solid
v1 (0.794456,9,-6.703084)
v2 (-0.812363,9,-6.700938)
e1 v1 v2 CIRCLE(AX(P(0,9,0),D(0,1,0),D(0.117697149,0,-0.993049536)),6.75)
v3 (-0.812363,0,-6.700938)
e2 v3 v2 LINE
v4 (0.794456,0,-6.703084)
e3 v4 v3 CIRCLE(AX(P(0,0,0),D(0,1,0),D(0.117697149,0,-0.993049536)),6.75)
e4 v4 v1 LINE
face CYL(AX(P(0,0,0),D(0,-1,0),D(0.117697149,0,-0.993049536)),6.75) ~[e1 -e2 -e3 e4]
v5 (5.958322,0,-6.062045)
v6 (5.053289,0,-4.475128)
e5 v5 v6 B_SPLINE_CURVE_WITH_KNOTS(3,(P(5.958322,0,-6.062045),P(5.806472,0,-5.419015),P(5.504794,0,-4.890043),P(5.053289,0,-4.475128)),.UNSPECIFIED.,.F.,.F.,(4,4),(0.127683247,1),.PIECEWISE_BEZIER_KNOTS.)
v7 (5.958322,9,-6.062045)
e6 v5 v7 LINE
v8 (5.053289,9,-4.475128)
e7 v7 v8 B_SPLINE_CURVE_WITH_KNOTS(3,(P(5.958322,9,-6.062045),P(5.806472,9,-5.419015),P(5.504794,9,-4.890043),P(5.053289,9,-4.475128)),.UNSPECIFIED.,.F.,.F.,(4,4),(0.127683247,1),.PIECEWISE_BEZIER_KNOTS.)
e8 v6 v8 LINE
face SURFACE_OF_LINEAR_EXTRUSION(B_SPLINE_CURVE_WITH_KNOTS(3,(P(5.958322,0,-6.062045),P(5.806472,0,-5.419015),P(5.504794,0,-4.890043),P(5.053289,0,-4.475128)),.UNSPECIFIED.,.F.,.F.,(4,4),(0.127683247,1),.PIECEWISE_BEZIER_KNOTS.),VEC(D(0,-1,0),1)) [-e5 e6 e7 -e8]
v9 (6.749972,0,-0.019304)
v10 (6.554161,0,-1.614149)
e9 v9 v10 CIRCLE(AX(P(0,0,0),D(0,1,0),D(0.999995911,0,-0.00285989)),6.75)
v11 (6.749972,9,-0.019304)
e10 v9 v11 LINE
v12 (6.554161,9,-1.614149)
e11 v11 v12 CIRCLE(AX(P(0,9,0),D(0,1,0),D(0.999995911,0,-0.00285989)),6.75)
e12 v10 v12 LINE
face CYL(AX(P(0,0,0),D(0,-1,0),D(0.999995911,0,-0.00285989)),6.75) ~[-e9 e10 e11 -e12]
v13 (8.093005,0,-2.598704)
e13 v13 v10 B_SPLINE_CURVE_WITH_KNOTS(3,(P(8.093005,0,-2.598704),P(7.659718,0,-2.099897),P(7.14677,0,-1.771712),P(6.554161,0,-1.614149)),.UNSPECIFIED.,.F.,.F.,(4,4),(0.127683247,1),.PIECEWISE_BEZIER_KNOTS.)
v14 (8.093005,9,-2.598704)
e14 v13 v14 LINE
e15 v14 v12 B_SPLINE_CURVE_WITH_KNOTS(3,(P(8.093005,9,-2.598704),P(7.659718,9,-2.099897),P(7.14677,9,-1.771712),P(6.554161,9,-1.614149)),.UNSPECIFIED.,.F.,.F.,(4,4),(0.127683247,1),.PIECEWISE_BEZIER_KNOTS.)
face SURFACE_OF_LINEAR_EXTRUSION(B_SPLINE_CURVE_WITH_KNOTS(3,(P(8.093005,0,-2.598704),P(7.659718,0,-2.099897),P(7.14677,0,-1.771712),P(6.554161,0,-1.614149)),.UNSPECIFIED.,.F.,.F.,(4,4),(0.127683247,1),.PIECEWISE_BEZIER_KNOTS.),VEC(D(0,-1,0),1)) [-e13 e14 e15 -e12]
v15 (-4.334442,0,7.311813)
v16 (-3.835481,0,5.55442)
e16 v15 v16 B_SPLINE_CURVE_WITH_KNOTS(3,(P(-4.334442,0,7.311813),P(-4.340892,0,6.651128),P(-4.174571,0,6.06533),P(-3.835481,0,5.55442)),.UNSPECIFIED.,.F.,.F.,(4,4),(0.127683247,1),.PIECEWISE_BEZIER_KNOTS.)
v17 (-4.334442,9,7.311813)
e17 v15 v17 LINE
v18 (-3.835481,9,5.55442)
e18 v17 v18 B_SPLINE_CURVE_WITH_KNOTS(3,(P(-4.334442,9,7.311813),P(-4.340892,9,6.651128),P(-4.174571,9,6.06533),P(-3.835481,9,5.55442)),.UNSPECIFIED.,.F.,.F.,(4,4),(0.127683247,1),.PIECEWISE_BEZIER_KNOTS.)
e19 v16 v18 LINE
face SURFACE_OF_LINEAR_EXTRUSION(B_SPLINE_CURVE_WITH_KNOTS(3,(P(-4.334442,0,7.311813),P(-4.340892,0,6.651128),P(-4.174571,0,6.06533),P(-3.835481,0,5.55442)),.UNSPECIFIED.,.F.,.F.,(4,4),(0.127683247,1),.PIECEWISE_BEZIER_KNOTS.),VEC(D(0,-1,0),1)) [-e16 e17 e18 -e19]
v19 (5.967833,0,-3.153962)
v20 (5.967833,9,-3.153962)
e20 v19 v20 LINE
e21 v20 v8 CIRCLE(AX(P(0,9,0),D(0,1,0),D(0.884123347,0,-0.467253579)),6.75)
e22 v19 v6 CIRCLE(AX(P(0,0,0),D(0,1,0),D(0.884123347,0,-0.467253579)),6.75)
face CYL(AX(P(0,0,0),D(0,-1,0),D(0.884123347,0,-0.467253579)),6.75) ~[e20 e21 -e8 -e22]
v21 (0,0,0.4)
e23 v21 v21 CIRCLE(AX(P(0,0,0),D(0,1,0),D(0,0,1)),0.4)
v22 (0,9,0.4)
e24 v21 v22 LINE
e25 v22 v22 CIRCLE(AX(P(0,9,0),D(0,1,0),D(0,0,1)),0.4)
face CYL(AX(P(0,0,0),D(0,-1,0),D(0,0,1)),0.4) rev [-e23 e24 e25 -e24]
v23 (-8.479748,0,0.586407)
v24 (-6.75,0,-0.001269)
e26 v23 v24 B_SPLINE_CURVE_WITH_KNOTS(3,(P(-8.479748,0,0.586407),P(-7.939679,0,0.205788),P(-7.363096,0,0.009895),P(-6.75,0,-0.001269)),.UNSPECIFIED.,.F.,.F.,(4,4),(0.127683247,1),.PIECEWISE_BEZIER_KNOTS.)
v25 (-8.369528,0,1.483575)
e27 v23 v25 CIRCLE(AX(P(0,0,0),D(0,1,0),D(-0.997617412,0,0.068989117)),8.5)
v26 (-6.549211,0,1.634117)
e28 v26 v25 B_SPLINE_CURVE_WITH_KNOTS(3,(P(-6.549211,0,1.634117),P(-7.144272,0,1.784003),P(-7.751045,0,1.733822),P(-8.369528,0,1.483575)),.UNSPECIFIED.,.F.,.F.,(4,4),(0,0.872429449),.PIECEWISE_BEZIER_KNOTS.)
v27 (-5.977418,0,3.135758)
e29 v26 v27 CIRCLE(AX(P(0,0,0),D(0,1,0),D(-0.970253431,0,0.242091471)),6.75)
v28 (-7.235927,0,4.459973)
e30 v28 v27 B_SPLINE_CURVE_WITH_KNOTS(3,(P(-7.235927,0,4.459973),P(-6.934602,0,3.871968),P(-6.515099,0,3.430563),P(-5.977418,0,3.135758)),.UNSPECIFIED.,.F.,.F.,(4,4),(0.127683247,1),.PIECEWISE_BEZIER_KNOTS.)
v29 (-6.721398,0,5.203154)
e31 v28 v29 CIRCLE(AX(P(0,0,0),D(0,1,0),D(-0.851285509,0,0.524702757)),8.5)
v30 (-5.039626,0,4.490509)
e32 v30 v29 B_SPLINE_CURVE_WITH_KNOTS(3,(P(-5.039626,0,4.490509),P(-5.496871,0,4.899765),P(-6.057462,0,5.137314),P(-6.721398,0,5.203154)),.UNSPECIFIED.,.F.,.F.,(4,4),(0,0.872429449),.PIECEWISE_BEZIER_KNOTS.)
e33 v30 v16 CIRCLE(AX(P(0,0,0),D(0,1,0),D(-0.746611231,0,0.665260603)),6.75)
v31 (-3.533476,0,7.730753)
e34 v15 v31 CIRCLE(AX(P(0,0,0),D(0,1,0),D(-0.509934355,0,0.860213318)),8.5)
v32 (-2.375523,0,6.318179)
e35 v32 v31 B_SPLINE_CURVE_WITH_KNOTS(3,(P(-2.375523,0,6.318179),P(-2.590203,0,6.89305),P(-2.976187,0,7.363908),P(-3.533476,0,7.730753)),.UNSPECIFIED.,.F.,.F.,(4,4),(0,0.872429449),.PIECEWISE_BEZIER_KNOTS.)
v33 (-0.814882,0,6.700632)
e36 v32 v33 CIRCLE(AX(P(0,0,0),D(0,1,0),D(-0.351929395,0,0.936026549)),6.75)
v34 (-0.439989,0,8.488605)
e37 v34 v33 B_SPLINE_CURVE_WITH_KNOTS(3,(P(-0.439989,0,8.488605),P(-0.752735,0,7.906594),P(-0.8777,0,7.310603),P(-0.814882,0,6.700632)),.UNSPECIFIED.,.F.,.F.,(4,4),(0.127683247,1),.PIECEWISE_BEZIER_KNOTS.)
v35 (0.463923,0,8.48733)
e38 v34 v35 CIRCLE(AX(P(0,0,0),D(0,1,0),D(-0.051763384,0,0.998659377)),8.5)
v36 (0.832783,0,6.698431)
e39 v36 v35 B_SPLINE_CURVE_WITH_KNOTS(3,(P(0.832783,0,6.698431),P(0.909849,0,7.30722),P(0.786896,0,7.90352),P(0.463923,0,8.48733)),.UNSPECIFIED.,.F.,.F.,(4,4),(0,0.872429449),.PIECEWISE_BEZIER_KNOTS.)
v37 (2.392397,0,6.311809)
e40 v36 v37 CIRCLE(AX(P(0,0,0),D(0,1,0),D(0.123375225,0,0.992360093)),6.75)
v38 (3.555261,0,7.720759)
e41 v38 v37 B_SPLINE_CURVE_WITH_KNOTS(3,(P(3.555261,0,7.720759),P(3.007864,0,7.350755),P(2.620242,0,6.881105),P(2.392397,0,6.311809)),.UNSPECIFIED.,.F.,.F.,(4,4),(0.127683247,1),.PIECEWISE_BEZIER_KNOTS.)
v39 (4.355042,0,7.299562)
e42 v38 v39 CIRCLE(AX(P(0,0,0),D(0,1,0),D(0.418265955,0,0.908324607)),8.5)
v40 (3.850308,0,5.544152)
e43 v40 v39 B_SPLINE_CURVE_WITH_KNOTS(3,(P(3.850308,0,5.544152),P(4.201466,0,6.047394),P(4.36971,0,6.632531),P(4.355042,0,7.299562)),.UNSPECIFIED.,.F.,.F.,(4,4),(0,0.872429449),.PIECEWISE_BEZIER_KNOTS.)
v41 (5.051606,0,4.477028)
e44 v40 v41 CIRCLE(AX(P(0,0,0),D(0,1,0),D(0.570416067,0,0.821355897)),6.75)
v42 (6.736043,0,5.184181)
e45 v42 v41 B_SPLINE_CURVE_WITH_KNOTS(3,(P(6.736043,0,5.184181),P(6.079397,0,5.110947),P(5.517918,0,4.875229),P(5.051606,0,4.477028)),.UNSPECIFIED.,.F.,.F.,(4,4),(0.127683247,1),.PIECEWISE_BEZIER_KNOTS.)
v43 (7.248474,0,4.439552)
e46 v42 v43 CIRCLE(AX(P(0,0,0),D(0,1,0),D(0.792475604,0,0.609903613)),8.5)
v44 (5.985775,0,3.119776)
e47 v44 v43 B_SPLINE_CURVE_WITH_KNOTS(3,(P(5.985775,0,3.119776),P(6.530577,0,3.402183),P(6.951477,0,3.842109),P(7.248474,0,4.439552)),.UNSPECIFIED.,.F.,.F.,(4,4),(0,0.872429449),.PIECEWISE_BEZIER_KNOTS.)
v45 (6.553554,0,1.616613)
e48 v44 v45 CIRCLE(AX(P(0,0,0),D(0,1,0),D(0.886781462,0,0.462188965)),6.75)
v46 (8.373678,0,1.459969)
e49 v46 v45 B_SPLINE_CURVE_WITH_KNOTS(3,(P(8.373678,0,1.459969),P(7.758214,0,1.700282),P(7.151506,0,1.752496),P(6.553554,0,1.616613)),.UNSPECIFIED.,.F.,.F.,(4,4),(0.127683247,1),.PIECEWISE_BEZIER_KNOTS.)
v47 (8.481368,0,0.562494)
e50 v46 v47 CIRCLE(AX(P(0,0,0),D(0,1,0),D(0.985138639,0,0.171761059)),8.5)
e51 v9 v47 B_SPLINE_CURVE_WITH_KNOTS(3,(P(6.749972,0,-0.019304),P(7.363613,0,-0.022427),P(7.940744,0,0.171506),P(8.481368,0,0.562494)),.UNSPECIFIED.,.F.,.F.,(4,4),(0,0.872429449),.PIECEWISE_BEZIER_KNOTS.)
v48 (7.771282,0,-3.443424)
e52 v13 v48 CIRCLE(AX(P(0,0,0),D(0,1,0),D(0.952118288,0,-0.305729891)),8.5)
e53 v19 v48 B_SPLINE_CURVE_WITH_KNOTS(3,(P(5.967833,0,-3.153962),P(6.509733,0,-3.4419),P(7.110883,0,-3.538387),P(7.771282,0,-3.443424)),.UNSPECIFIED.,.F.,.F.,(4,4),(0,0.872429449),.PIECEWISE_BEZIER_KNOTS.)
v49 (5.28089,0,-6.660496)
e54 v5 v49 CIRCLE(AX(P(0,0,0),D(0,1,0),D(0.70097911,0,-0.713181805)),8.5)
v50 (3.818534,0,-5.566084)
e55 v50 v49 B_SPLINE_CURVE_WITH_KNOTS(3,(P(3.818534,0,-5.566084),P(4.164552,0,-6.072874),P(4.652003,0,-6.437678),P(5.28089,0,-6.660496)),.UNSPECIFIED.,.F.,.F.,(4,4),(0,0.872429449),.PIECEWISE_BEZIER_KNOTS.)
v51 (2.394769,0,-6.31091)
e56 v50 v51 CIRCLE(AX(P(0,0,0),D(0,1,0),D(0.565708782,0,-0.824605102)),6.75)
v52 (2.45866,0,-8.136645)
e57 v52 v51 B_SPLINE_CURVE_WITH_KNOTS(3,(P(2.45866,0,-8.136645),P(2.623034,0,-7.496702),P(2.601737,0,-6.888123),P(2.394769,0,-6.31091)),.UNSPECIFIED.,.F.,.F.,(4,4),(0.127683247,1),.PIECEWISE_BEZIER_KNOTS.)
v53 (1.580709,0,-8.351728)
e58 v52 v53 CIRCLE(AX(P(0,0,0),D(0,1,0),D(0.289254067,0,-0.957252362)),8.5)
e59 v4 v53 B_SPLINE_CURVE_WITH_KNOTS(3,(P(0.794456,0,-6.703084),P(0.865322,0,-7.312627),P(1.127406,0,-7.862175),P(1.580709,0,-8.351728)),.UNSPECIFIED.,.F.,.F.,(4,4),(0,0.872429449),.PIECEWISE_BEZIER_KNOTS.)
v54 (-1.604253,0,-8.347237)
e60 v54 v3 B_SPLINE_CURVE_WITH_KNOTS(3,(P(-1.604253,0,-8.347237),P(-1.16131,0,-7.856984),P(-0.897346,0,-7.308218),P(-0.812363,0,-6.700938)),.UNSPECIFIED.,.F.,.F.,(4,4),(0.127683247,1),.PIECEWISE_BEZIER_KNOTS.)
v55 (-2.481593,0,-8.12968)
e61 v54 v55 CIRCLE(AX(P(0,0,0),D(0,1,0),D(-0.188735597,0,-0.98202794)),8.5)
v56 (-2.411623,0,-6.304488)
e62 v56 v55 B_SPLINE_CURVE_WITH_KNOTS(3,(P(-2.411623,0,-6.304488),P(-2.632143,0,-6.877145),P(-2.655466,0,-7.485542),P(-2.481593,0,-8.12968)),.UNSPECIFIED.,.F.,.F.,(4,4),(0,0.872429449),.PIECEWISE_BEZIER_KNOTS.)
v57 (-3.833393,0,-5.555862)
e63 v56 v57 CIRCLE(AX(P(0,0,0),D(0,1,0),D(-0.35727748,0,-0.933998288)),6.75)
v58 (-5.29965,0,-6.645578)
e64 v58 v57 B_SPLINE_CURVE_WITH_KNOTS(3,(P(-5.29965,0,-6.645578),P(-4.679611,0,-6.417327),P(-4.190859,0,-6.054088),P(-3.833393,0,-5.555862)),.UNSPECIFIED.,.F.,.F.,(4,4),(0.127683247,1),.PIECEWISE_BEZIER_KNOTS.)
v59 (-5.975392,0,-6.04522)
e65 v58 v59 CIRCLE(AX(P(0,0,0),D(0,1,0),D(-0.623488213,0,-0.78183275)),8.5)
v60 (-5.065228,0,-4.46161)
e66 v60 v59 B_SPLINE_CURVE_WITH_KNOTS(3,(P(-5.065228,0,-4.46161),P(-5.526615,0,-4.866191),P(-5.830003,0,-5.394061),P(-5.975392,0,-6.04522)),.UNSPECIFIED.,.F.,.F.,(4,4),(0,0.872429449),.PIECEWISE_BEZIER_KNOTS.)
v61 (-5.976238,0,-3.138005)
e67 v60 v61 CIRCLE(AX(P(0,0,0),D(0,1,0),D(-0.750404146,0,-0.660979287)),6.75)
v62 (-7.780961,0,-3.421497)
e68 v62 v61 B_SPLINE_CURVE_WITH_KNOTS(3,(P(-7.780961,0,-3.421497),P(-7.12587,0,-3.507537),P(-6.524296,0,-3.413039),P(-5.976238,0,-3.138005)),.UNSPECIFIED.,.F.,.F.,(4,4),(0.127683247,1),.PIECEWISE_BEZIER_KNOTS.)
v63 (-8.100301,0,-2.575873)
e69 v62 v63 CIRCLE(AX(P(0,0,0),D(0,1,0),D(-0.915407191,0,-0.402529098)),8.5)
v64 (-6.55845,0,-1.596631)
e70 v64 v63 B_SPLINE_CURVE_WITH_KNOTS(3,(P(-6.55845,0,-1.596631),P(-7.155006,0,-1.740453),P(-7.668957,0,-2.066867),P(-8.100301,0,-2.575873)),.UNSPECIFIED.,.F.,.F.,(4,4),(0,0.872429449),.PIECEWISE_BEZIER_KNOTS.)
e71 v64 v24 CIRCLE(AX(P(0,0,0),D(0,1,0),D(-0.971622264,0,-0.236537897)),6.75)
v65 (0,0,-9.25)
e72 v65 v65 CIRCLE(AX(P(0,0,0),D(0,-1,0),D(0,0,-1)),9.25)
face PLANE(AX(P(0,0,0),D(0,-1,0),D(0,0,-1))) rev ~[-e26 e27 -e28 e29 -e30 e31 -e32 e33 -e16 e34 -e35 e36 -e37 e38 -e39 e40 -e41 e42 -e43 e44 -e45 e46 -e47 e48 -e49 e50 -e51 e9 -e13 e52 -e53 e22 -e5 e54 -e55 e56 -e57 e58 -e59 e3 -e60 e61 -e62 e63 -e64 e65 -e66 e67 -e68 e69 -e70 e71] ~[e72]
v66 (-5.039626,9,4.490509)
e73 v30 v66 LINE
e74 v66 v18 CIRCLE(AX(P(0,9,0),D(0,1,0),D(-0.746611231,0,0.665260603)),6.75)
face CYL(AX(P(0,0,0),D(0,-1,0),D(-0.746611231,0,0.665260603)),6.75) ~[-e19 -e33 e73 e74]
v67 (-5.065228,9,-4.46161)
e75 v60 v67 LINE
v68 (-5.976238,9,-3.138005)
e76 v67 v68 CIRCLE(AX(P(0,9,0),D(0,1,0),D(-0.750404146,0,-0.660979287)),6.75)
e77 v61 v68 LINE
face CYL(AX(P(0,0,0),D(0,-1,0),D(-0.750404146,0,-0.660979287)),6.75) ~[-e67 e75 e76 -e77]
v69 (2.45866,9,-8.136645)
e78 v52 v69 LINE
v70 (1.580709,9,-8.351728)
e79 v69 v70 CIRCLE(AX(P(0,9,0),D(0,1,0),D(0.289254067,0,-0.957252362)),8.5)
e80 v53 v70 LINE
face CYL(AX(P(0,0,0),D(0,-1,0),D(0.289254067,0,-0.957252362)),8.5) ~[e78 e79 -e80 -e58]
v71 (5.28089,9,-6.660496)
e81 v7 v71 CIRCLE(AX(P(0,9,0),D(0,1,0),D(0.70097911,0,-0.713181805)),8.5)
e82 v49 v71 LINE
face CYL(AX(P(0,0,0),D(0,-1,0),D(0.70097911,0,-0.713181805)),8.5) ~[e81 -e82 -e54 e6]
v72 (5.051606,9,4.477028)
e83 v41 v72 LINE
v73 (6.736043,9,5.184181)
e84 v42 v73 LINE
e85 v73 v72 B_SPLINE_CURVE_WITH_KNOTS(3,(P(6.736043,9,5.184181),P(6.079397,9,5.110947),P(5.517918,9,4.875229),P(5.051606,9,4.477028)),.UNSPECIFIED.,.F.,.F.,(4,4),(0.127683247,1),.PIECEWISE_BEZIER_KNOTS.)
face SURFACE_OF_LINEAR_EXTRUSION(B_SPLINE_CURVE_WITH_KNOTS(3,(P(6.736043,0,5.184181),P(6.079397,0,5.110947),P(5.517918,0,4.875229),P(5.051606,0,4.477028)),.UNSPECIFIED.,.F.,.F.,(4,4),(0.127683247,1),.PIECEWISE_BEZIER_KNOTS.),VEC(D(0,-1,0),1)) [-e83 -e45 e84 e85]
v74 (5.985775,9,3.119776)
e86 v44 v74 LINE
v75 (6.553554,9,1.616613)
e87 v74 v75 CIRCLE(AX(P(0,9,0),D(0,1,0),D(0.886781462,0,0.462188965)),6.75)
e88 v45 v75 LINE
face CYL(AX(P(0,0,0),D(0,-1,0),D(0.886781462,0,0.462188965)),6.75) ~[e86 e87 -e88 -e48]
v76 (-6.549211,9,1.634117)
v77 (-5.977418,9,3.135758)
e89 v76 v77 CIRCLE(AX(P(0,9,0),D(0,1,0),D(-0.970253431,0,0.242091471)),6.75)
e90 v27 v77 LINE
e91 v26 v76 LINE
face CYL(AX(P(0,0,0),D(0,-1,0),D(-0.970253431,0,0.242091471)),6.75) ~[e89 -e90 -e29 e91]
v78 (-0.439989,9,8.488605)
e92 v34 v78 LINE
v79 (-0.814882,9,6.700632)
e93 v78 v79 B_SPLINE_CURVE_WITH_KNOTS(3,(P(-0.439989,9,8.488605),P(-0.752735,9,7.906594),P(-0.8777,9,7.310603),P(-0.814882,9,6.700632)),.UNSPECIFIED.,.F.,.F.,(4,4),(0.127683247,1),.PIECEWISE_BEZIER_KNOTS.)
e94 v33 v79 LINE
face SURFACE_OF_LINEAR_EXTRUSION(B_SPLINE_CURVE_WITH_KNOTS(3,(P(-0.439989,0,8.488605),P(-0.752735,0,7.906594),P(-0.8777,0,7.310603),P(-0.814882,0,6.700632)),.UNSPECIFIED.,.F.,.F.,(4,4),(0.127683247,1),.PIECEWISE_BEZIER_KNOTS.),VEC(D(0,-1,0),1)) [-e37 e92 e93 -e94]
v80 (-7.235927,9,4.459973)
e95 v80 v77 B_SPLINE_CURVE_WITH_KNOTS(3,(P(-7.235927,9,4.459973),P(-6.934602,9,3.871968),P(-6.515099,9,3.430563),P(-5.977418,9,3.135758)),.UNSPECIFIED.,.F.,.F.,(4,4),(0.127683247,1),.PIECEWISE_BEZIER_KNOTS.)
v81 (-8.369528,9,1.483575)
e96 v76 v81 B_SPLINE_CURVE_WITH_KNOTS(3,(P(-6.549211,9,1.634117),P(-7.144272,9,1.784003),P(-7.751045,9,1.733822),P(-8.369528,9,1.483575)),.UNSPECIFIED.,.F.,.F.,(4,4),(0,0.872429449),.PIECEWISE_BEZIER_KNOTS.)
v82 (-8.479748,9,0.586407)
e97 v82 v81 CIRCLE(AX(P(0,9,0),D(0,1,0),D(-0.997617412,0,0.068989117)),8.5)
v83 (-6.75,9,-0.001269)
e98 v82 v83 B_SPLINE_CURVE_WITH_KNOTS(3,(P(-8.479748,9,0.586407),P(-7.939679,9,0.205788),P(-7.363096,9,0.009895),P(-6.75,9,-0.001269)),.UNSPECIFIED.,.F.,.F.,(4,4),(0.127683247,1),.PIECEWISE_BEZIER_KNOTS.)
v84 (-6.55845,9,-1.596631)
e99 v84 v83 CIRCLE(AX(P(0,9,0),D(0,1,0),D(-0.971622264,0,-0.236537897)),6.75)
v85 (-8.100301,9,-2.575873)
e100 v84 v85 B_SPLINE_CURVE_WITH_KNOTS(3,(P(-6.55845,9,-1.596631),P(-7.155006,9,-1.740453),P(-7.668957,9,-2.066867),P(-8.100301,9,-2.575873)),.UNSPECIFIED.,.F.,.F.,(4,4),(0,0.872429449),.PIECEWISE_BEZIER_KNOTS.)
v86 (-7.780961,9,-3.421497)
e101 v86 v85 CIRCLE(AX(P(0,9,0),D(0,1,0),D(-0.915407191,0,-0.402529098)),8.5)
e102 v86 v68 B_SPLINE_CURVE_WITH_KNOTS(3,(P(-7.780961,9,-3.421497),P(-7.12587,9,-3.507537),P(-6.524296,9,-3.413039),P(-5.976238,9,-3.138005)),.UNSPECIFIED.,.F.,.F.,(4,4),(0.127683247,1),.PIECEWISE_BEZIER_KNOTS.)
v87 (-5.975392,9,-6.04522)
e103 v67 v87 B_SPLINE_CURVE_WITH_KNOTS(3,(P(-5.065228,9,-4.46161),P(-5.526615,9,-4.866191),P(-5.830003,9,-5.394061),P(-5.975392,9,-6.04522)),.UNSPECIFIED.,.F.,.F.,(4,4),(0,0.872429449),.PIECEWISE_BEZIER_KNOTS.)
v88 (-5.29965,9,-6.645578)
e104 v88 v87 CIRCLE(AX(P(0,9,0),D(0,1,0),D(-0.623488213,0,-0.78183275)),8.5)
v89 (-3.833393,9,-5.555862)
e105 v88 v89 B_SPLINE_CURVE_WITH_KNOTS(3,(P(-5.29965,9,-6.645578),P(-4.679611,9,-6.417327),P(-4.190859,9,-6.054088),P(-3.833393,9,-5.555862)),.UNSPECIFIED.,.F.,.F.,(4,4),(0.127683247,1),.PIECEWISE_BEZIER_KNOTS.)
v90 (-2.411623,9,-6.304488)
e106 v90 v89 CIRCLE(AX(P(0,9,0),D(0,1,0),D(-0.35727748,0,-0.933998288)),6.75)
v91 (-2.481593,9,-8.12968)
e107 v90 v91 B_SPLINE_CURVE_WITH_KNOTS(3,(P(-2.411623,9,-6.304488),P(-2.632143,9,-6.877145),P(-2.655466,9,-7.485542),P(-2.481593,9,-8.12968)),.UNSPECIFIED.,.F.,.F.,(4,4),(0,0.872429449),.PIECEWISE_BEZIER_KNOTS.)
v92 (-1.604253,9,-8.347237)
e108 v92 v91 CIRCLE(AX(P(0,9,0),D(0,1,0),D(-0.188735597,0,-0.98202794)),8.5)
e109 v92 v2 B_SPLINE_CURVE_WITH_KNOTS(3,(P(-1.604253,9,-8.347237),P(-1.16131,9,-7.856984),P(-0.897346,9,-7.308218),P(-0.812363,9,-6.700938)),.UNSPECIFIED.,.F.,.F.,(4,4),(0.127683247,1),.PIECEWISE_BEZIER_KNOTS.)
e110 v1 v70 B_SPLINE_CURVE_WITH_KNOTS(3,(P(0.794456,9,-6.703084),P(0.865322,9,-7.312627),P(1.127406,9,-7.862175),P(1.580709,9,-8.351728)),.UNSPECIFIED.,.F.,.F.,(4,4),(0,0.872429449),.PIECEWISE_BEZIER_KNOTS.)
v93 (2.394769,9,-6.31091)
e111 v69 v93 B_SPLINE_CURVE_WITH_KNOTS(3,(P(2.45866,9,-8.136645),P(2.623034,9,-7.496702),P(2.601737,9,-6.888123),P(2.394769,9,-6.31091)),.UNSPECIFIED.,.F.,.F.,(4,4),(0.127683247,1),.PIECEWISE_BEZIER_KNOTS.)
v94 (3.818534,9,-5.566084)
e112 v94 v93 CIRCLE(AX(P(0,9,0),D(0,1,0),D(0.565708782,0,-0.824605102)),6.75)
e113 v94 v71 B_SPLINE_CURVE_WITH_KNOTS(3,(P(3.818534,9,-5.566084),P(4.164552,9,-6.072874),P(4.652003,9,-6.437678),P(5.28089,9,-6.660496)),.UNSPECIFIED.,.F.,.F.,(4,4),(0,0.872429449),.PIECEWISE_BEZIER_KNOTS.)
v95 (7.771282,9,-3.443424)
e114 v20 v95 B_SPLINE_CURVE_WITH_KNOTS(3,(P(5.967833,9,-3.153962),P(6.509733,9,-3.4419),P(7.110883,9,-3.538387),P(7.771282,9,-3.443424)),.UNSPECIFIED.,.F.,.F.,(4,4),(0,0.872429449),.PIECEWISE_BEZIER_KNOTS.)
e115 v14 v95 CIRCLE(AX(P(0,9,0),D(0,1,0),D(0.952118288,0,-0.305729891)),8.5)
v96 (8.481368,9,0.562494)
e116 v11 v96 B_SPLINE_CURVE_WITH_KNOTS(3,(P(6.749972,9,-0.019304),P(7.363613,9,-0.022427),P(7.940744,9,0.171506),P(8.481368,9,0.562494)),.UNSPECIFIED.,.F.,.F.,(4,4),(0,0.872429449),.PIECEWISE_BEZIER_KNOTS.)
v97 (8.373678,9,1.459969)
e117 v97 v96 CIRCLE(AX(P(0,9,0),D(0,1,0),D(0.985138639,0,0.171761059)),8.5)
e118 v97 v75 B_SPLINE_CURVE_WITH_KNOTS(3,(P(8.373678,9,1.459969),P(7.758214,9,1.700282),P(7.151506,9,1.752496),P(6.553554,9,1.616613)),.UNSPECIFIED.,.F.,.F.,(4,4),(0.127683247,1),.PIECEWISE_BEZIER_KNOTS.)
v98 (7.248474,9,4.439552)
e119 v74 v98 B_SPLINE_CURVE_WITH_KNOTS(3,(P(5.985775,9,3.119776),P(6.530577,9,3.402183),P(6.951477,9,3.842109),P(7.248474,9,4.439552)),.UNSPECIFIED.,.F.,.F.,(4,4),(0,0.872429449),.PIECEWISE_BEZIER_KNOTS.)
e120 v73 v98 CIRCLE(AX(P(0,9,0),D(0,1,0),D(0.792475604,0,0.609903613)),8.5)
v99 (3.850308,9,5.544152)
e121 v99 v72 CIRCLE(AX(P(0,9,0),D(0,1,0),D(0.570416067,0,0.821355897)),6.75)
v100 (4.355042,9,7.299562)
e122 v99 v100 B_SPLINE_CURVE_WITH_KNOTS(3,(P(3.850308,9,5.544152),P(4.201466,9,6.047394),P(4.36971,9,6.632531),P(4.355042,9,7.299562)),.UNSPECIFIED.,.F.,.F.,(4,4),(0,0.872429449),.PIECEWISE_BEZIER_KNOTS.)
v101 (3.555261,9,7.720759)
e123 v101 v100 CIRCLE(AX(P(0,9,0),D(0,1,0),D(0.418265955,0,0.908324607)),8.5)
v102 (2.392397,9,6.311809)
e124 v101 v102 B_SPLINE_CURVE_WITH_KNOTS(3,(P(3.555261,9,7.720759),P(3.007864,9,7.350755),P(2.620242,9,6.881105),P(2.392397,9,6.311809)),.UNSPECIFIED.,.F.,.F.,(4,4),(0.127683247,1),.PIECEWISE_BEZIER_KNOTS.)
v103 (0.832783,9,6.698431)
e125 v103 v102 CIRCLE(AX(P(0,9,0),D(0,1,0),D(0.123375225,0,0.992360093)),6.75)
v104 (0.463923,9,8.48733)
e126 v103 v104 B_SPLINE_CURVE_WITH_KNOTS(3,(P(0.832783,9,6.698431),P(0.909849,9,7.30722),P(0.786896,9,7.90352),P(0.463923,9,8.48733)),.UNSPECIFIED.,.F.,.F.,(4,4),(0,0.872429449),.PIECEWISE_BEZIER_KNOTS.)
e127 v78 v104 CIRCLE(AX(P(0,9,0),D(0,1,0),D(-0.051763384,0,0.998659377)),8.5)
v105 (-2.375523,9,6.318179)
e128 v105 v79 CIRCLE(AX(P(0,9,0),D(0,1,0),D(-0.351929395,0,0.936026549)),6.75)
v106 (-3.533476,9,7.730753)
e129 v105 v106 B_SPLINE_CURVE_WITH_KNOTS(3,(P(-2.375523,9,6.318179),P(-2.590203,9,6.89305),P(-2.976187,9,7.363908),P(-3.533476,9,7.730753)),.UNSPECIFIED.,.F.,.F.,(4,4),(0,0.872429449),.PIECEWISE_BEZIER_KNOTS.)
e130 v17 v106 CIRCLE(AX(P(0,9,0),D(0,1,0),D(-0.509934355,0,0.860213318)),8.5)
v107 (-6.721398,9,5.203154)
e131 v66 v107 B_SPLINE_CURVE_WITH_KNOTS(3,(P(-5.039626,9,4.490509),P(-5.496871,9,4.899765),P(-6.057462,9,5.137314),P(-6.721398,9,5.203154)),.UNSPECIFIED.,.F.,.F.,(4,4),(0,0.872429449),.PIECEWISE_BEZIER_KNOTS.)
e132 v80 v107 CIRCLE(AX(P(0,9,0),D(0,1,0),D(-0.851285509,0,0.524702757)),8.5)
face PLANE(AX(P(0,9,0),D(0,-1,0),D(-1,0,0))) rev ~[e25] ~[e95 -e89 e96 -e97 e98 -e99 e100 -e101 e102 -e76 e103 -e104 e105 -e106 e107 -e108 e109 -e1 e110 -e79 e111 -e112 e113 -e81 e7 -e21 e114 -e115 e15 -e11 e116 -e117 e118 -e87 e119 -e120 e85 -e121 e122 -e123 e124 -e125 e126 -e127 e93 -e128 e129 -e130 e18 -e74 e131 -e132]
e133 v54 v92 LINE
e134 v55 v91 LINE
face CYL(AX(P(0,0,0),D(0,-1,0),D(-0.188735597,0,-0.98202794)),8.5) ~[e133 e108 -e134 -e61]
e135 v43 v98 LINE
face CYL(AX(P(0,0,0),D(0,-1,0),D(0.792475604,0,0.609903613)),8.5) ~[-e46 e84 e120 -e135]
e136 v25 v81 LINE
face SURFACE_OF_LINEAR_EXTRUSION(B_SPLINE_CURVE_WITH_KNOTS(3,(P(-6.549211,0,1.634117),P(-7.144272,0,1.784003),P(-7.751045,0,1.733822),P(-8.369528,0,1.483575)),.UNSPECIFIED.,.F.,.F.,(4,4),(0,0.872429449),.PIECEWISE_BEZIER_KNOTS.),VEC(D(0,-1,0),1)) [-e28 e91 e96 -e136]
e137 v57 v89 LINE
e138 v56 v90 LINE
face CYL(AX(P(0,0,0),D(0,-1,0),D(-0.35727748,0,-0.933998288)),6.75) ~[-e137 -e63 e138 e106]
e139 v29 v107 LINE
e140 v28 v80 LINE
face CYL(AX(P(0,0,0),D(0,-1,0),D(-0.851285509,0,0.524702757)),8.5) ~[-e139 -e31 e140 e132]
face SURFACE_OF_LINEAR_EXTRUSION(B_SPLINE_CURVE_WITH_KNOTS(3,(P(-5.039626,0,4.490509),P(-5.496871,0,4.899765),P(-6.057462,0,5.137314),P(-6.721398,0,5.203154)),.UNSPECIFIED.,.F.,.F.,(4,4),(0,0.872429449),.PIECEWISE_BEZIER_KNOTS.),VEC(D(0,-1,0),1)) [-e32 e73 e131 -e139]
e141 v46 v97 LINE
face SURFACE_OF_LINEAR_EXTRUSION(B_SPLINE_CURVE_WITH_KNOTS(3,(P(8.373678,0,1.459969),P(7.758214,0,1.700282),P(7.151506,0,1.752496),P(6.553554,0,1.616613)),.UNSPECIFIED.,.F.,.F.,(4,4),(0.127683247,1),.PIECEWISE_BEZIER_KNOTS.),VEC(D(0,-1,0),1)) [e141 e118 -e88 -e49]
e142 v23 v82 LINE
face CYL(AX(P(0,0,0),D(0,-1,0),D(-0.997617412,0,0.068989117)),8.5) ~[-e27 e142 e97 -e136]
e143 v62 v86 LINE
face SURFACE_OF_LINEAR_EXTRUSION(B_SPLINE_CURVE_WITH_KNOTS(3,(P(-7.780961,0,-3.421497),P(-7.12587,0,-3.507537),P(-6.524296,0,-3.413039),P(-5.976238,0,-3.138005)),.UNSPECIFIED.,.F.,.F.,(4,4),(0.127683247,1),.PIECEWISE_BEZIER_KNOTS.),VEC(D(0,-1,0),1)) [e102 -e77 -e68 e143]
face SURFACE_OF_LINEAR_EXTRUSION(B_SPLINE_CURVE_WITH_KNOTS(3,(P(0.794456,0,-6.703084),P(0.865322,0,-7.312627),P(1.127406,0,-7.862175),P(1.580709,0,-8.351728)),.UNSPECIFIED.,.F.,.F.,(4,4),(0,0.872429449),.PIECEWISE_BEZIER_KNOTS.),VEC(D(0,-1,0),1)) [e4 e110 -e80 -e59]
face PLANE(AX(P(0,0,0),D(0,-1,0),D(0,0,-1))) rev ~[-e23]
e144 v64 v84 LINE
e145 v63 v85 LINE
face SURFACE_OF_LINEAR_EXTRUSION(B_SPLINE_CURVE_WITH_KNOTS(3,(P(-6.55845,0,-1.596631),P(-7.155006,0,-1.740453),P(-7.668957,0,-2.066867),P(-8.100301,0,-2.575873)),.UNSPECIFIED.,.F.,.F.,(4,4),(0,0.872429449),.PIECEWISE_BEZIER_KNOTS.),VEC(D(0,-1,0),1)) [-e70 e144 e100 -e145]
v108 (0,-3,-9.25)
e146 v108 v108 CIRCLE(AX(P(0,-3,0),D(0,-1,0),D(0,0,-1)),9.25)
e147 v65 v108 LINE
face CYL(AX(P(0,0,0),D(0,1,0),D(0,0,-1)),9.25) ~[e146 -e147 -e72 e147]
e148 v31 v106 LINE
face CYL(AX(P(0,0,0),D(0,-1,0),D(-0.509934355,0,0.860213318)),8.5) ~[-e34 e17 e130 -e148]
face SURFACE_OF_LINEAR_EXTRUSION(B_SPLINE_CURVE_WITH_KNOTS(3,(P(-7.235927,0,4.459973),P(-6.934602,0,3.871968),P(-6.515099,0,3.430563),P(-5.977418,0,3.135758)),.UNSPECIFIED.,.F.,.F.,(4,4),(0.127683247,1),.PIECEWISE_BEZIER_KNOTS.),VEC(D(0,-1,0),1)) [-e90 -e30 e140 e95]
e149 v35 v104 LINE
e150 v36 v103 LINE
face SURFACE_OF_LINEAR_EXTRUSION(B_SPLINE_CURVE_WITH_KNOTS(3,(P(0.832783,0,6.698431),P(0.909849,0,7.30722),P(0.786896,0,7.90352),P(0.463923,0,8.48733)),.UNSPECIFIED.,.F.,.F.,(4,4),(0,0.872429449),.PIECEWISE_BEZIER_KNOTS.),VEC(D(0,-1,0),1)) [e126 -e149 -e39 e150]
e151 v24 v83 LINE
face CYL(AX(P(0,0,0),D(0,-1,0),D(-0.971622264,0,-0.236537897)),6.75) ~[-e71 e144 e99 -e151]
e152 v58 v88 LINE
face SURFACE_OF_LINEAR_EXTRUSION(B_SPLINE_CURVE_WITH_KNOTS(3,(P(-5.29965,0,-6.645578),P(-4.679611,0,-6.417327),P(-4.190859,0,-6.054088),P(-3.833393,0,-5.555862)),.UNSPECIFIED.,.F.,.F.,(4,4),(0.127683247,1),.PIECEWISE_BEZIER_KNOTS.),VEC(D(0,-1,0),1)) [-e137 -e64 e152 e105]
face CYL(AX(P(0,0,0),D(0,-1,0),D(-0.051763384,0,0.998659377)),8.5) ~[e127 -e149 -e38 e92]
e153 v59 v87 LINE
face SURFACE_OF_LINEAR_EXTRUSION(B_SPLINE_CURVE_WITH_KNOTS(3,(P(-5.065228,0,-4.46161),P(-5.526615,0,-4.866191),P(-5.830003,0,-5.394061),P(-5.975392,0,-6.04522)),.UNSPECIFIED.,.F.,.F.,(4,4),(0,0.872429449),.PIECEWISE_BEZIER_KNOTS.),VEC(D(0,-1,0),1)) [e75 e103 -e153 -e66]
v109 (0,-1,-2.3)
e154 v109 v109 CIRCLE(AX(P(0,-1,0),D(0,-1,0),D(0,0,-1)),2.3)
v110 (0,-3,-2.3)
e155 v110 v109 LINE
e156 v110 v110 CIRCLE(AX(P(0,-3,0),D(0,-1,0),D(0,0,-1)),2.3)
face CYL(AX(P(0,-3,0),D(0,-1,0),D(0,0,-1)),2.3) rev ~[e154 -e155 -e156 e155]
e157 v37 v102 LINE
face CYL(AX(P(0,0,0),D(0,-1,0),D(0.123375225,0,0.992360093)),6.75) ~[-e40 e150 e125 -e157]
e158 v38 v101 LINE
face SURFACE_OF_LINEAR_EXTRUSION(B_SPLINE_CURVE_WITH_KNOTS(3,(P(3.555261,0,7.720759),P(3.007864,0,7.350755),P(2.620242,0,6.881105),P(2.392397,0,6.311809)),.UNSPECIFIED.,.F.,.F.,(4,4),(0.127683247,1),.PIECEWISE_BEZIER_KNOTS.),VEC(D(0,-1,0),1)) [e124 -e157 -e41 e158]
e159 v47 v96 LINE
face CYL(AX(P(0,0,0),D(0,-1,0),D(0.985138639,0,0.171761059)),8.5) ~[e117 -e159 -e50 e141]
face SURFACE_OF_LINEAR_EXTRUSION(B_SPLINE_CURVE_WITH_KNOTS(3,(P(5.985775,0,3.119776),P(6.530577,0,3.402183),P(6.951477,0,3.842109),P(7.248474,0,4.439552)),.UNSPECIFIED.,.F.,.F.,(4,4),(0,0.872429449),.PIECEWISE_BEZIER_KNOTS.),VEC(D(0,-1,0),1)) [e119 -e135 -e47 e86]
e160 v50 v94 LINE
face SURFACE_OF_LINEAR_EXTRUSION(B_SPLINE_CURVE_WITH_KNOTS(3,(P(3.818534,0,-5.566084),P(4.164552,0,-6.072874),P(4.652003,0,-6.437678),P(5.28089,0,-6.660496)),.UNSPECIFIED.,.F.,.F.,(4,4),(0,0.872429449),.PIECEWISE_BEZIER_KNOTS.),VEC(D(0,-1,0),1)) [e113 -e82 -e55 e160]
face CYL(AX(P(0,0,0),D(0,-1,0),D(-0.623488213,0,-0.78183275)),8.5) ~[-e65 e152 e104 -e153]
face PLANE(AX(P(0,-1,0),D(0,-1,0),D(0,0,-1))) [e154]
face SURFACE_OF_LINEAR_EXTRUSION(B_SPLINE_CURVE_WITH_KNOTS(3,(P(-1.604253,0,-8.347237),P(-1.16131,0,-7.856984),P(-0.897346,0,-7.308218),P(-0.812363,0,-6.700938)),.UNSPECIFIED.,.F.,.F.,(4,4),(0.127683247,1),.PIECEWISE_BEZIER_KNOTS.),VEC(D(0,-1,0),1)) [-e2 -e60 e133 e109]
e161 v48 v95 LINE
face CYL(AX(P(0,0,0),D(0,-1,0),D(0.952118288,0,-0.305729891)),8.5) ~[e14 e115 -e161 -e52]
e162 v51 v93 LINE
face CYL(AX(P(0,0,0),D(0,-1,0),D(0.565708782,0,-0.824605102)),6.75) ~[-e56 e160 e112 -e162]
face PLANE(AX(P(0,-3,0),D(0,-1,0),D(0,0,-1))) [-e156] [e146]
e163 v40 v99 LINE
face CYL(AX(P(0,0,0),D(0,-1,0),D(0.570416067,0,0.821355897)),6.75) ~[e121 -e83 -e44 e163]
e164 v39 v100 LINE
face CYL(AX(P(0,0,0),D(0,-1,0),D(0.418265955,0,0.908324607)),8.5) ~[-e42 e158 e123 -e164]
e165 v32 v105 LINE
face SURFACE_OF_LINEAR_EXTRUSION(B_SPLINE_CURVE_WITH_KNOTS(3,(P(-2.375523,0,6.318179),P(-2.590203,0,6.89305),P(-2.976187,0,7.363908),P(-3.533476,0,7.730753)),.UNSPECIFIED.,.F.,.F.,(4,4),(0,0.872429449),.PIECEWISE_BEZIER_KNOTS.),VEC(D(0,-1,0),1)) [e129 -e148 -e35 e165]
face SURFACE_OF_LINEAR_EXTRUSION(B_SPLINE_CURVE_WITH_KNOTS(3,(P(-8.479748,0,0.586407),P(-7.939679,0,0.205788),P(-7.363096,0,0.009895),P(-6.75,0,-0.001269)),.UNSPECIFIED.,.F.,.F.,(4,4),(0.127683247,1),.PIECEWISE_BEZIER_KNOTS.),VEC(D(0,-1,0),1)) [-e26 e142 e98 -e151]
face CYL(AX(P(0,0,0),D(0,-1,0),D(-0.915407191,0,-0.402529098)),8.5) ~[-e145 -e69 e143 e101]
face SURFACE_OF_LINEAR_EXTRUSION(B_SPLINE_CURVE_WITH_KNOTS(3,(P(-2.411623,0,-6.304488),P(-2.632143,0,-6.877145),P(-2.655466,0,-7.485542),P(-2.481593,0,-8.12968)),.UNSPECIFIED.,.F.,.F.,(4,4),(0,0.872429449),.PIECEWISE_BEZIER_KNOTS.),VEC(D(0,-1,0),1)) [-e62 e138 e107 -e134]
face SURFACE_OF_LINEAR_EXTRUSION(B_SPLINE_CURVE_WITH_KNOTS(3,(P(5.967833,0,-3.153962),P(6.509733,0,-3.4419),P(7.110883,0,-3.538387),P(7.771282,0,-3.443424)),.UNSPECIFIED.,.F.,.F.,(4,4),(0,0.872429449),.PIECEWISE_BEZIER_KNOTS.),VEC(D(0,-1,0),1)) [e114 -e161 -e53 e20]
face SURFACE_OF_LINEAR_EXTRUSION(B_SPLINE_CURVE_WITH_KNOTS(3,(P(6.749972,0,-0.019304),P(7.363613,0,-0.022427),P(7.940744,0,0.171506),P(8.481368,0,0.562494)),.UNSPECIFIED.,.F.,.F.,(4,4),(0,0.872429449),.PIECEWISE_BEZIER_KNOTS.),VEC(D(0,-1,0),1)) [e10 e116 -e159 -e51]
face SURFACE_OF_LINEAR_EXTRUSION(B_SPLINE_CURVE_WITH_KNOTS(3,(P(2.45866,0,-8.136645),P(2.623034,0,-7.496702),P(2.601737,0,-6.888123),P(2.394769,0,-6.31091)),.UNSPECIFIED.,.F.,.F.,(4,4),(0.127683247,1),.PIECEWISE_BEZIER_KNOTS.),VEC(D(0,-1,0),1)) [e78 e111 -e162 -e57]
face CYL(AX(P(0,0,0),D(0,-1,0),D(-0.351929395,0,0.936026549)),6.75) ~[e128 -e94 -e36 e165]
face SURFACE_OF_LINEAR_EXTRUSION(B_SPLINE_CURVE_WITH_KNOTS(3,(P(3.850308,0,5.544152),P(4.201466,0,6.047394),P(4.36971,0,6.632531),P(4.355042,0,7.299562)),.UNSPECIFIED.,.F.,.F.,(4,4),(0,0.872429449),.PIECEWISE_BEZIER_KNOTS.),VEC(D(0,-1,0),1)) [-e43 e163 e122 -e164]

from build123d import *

# Parameters (mm, degrees)
SKETCH1_R             = 0.4
BOSS_EXTRUDE1_DEPTH   = 9
SKETCH2_R             = 9.25
BOSS_EXTRUDE2_DEPTH   = 3
CROQUIS1_R            = 2.3
CORTAR_EXTRUIR1_DEPTH = 2


with BuildPart() as part:
    # Sketch1 → Boss-Extrude1 (new body)
    with BuildSketch(Plane(origin=(0, 0, 0), x_dir=(1, 0, 0), z_dir=(0, 1, 0))):
        with BuildLine():
            add(Edge.make_bspline(
                [(-5.065227978, 4.461610195), (-5.526615005, 4.86619147), (-5.830003112, 5.39406146), (-5.975392301, 6.045220165)],
                knots=[0, 0, 0, 0, 0.872429449, 0.872429449, 0.872429449, 0.872429449], degree=3))
            ThreePointArc((-5.065227978, 4.461610195), (-5.560258819, 3.827012132), (-5.976238464, 3.138004752))
            add(Edge.make_bspline(
                [(-7.780961116, 3.42149735), (-7.125870497, 3.507536778), (-6.52429628, 3.413039245), (-5.976238464, 3.138004752)],
                knots=[0.127683247, 0.127683247, 0.127683247, 0.127683247, 1, 1, 1, 1], degree=3))
            ThreePointArc((-7.780961116, 3.42149735), (-7.951879756, 3.00293329), (-8.10030101, 2.575873357))
            add(Edge.make_bspline(
                [(-6.558450277, 1.596630818), (-7.155006493, 1.740452504), (-7.668956737, 2.066866683), (-8.10030101, 2.575873357)],
                knots=[0, 0, 0, 0, 0.872429449, 0.872429449, 0.872429449, 0.872429449], degree=3))
            ThreePointArc((-6.558450277, 1.596630818), (-6.701865893, 0.804669837), (-6.749999881, 0.00126872))
            add(Edge.make_bspline(
                [(-8.479748007, -0.586407486), (-7.939678588, -0.205787566), (-7.363095879, -0.009895497), (-6.749999881, 0.00126872)],
                knots=[0.127683247, 0.127683247, 0.127683247, 0.127683247, 1, 1, 1, 1], degree=3))
            ThreePointArc((-8.479748007, -0.586407486), (-8.436572529, -1.036457408), (-8.369528376, -1.483574994))
            add(Edge.make_bspline(
                [(-6.549210655, -1.634117437), (-7.144272221, -1.784003157), (-7.751044795, -1.733822342), (-8.369528376, -1.483574994)],
                knots=[0, 0, 0, 0, 0.872429449, 0.872429449, 0.872429449, 0.872429449], degree=3))
            ThreePointArc((-6.549210655, -1.634117437), (-6.308156258, -2.402012621), (-5.977417671, -3.13575796))
            add(Edge.make_bspline(
                [(-7.235926822, -4.459973434), (-6.934601997, -3.871968458), (-6.515098947, -3.4305633), (-5.977417671, -3.13575796)],
                knots=[0.127683247, 0.127683247, 0.127683247, 0.127683247, 1, 1, 1, 1], degree=3))
            ThreePointArc((-7.235926822, -4.459973434), (-6.988548208, -4.838408204), (-6.721397655, -5.203154193))
            add(Edge.make_bspline(
                [(-5.039625799, -4.490509081), (-5.496871281, -4.899765193), (-6.0574619, -5.137313564), (-6.721397655, -5.203154193)],
                knots=[0, 0, 0, 0, 0.872429449, 0.872429449, 0.872429449, 0.872429449], degree=3))
            ThreePointArc((-5.039625799, -4.490509081), (-4.469324045, -5.058422935), (-3.835481109, -5.554420281))
            add(Edge.make_bspline(
                [(-4.334442004, -7.311813216), (-4.34089166, -6.651128039), (-4.174571361, -6.065330394), (-3.835481109, -5.554420281)],
                knots=[0.127683247, 0.127683247, 0.127683247, 0.127683247, 1, 1, 1, 1], degree=3))
            ThreePointArc((-4.334442004, -7.311813216), (-3.939531713, -7.53193799), (-3.533475733, -7.730753472))
            add(Edge.make_bspline(
                [(-2.375523406, -6.318179211), (-2.590203375, -6.893050073), (-2.976187484, -7.36390816), (-3.533475733, -7.730753472)],
                knots=[0, 0, 0, 0, 0.872429449, 0.872429449, 0.872429449, 0.872429449], degree=3))
            ThreePointArc((-2.375523406, -6.318179211), (-1.606623554, -6.556009515), (-0.814882047, -6.700631854))
            add(Edge.make_bspline(
                [(-0.439988759, -8.488604708), (-0.752735357, -7.906594341), (-0.877699786, -7.31060339), (-0.814882047, -6.700631854)],
                knots=[0.127683247, 0.127683247, 0.127683247, 0.127683247, 1, 1, 1, 1], degree=3))
            ThreePointArc((-0.439988759, -8.488604708), (0.011984021, -8.499991552), (0.463922896, -8.487330296))
            add(Edge.make_bspline(
                [(0.832782771, -6.698430626), (0.909848909, -7.307220251), (0.786895617, -7.903520141), (0.463922896, -8.487330296)],
                knots=[0, 0, 0, 0, 0.872429449, 0.872429449, 0.872429449, 0.872429449], degree=3))
            ThreePointArc((0.832782771, -6.698430626), (1.624135031, -6.551693323), (2.392396671, -6.311809421))
            add(Edge.make_bspline(
                [(3.555260608, -7.72075916), (3.007863545, -7.350755165), (2.620242233, -6.881105252), (2.392396671, -6.311809421)],
                knots=[0.127683247, 0.127683247, 0.127683247, 0.127683247, 1, 1, 1, 1], degree=3))
            ThreePointArc((3.555260608, -7.72075916), (3.96075436, -7.520799485), (4.355042381, -7.299562032))
            add(Edge.make_bspline(
                [(3.850308451, -5.54415231), (4.201465773, -6.047394331), (4.369710416, -6.632530905), (4.355042381, -7.299562032)],
                knots=[0, 0, 0, 0, 0.872429449, 0.872429449, 0.872429449, 0.872429449], degree=3))
            ThreePointArc((3.850308451, -5.54415231), (4.482823853, -5.046463148), (5.051606144, -4.477027515))
            add(Edge.make_bspline(
                [(6.736042616, -5.184180734), (6.079397157, -5.110946566), (5.517918333, -4.875228826), (5.051606144, -4.477027515)],
                knots=[0.127683247, 0.127683247, 0.127683247, 0.127683247, 1, 1, 1, 1], degree=3))
            ThreePointArc((6.736042616, -5.184180734), (7.002163607, -4.818682892), (7.24847414, -4.439552076))
            add(Edge.make_bspline(
                [(5.985774866, -3.119775513), (6.530577461, -3.402183249), (6.951477219, -3.84210877), (7.24847414, -4.439552076)],
                knots=[0, 0, 0, 0, 0.872429449, 0.872429449, 0.872429449, 0.872429449], degree=3))
            ThreePointArc((5.985774866, -3.119775513), (6.314551754, -2.385149082), (6.553553527, -1.616612559))
            add(Edge.make_bspline(
                [(8.373678438, -1.459968977), (7.758214146, -1.700281702), (7.151505842, -1.75249623), (6.553553527, -1.616612559)],
                knots=[0.127683247, 0.127683247, 0.127683247, 0.127683247, 1, 1, 1, 1], degree=3))
            ThreePointArc((8.373678438, -1.459968977), (8.439461558, -1.01266412), (8.481367828, -0.562494242))
            add(Edge.make_bspline(
                [(6.749972396, 0.019304256), (7.363612555, 0.022427015), (7.940744366, -0.171505818), (8.481367828, -0.562494242)],
                knots=[0, 0, 0, 0, 0.872429449, 0.872429449, 0.872429449, 0.872429449], degree=3))
            ThreePointArc((6.749972396, 0.019304256), (6.699691947, 0.822573894), (6.554160776, 1.614148852))
            add(Edge.make_bspline(
                [(8.093005444, 2.598704077), (7.65971777, 2.099897208), (7.146769547, 1.771712133), (6.554160776, 1.614148852)],
                knots=[0.127683247, 0.127683247, 0.127683247, 0.127683247, 1, 1, 1, 1], degree=3))
            ThreePointArc((8.093005444, 2.598704077), (7.943380571, 3.025343799), (7.771282357, 3.443424244))
            add(Edge.make_bspline(
                [(5.967832596, 3.153961653), (6.509732754, 3.44189952), (7.110882674, 3.53838705), (7.771282357, 3.443424244)],
                knots=[0, 0, 0, 0, 0.872429449, 0.872429449, 0.872429449, 0.872429449], degree=3))
            ThreePointArc((5.967832596, 3.153961653), (5.550013455, 3.841855105), (5.053288778, 4.475128213))
            add(Edge.make_bspline(
                [(5.958322434, 6.062045345), (5.806472362, 5.419014975), (5.504794477, 4.890042598), (5.053288778, 4.475128213)],
                knots=[0.127683247, 0.127683247, 0.127683247, 0.127683247, 1, 1, 1, 1], degree=3))
            ThreePointArc((5.958322434, 6.062045345), (5.627566824, 6.370281912), (5.280889753, 6.660495734))
            add(Edge.make_bspline(
                [(3.818534268, 5.566084444), (4.16455163, 6.072874324), (4.652003458, 6.437678087), (5.280889753, 6.660495734)],
                knots=[0, 0, 0, 0, 0.872429449, 0.872429449, 0.872429449, 0.872429449], degree=3))
            ThreePointArc((3.818534268, 5.566084444), (3.128893766, 5.98101361), (2.394769219, 6.310909632))
            add(Edge.make_bspline(
                [(2.45865956, 8.136645081), (2.623034112, 7.496701718), (2.601737332, 6.888123235), (2.394769219, 6.310909632)],
                knots=[0.127683247, 0.127683247, 0.127683247, 0.127683247, 1, 1, 1, 1], degree=3))
            ThreePointArc((2.45865956, 8.136645081), (2.022545337, 8.25586521), (1.580708948, 8.351727918))
            add(Edge.make_bspline(
                [(0.794455758, 6.703084368), (0.865321915, 7.312626807), (1.127406312, 7.862174657), (1.580708948, 8.351727918)],
                knots=[0, 0, 0, 0, 0.872429449, 0.872429449, 0.872429449, 0.872429449], degree=3))
            ThreePointArc((0.794455758, 6.703084368), (-0.009017778, 6.749993976), (-0.812363108, 6.700937709))
            add(Edge.make_bspline(
                [(-1.604252589, 8.347237485), (-1.161309642, 7.856984441), (-0.897346481, 7.308217849), (-0.812363108, 6.700937709)],
                knots=[0.127683247, 0.127683247, 0.127683247, 0.127683247, 1, 1, 1, 1], degree=3))
            ThreePointArc((-1.604252589, 8.347237485), (-2.045816912, 8.250129282), (-2.481593228, 8.129679886))
            add(Edge.make_bspline(
                [(-2.411622992, 6.304488444), (-2.632142622, 6.877144615), (-2.655466033, 7.485541762), (-2.481593228, 8.129679886)],
                knots=[0, 0, 0, 0, 0.872429449, 0.872429449, 0.872429449, 0.872429449], degree=3))
            ThreePointArc((-2.411622992, 6.304488444), (-3.144863458, 5.972632069), (-3.833392837, 5.555861712))
            add(Edge.make_bspline(
                [(-5.299649804, 6.645578377), (-4.679611352, 6.417326717), (-4.19085903, 6.054087828), (-3.833392837, 5.555861712)],
                knots=[0.127683247, 0.127683247, 0.127683247, 0.127683247, 1, 1, 1, 1], degree=3))
            ThreePointArc((-5.299649804, 6.645578377), (-5.645507162, 6.35438816), (-5.975392301, 6.045220165))
        make_face()
        with Locations(Location((0, 0, 0), (0, 0, 270))):
            Circle(SKETCH1_R, mode=Mode.SUBTRACT)
    extrude(amount=BOSS_EXTRUDE1_DEPTH)

    # Sketch2 → Boss-Extrude2 (add)
    with BuildSketch(Plane.XZ):
        with Locations(Location((0, 0, 0), (0, 0, 270))):
            Circle(SKETCH2_R)
    extrude(amount=BOSS_EXTRUDE2_DEPTH)

    # Croquis1 → Cortar-Extruir1 (cut)
    with BuildSketch(Plane.XZ.offset(3)):
        with Locations(Location((0, 0, 0), (0, 0, 270))):
            Circle(CROQUIS1_R)
    extrude(amount=-CORTAR_EXTRUIR1_DEPTH, mode=Mode.SUBTRACT)


solid = part.part
